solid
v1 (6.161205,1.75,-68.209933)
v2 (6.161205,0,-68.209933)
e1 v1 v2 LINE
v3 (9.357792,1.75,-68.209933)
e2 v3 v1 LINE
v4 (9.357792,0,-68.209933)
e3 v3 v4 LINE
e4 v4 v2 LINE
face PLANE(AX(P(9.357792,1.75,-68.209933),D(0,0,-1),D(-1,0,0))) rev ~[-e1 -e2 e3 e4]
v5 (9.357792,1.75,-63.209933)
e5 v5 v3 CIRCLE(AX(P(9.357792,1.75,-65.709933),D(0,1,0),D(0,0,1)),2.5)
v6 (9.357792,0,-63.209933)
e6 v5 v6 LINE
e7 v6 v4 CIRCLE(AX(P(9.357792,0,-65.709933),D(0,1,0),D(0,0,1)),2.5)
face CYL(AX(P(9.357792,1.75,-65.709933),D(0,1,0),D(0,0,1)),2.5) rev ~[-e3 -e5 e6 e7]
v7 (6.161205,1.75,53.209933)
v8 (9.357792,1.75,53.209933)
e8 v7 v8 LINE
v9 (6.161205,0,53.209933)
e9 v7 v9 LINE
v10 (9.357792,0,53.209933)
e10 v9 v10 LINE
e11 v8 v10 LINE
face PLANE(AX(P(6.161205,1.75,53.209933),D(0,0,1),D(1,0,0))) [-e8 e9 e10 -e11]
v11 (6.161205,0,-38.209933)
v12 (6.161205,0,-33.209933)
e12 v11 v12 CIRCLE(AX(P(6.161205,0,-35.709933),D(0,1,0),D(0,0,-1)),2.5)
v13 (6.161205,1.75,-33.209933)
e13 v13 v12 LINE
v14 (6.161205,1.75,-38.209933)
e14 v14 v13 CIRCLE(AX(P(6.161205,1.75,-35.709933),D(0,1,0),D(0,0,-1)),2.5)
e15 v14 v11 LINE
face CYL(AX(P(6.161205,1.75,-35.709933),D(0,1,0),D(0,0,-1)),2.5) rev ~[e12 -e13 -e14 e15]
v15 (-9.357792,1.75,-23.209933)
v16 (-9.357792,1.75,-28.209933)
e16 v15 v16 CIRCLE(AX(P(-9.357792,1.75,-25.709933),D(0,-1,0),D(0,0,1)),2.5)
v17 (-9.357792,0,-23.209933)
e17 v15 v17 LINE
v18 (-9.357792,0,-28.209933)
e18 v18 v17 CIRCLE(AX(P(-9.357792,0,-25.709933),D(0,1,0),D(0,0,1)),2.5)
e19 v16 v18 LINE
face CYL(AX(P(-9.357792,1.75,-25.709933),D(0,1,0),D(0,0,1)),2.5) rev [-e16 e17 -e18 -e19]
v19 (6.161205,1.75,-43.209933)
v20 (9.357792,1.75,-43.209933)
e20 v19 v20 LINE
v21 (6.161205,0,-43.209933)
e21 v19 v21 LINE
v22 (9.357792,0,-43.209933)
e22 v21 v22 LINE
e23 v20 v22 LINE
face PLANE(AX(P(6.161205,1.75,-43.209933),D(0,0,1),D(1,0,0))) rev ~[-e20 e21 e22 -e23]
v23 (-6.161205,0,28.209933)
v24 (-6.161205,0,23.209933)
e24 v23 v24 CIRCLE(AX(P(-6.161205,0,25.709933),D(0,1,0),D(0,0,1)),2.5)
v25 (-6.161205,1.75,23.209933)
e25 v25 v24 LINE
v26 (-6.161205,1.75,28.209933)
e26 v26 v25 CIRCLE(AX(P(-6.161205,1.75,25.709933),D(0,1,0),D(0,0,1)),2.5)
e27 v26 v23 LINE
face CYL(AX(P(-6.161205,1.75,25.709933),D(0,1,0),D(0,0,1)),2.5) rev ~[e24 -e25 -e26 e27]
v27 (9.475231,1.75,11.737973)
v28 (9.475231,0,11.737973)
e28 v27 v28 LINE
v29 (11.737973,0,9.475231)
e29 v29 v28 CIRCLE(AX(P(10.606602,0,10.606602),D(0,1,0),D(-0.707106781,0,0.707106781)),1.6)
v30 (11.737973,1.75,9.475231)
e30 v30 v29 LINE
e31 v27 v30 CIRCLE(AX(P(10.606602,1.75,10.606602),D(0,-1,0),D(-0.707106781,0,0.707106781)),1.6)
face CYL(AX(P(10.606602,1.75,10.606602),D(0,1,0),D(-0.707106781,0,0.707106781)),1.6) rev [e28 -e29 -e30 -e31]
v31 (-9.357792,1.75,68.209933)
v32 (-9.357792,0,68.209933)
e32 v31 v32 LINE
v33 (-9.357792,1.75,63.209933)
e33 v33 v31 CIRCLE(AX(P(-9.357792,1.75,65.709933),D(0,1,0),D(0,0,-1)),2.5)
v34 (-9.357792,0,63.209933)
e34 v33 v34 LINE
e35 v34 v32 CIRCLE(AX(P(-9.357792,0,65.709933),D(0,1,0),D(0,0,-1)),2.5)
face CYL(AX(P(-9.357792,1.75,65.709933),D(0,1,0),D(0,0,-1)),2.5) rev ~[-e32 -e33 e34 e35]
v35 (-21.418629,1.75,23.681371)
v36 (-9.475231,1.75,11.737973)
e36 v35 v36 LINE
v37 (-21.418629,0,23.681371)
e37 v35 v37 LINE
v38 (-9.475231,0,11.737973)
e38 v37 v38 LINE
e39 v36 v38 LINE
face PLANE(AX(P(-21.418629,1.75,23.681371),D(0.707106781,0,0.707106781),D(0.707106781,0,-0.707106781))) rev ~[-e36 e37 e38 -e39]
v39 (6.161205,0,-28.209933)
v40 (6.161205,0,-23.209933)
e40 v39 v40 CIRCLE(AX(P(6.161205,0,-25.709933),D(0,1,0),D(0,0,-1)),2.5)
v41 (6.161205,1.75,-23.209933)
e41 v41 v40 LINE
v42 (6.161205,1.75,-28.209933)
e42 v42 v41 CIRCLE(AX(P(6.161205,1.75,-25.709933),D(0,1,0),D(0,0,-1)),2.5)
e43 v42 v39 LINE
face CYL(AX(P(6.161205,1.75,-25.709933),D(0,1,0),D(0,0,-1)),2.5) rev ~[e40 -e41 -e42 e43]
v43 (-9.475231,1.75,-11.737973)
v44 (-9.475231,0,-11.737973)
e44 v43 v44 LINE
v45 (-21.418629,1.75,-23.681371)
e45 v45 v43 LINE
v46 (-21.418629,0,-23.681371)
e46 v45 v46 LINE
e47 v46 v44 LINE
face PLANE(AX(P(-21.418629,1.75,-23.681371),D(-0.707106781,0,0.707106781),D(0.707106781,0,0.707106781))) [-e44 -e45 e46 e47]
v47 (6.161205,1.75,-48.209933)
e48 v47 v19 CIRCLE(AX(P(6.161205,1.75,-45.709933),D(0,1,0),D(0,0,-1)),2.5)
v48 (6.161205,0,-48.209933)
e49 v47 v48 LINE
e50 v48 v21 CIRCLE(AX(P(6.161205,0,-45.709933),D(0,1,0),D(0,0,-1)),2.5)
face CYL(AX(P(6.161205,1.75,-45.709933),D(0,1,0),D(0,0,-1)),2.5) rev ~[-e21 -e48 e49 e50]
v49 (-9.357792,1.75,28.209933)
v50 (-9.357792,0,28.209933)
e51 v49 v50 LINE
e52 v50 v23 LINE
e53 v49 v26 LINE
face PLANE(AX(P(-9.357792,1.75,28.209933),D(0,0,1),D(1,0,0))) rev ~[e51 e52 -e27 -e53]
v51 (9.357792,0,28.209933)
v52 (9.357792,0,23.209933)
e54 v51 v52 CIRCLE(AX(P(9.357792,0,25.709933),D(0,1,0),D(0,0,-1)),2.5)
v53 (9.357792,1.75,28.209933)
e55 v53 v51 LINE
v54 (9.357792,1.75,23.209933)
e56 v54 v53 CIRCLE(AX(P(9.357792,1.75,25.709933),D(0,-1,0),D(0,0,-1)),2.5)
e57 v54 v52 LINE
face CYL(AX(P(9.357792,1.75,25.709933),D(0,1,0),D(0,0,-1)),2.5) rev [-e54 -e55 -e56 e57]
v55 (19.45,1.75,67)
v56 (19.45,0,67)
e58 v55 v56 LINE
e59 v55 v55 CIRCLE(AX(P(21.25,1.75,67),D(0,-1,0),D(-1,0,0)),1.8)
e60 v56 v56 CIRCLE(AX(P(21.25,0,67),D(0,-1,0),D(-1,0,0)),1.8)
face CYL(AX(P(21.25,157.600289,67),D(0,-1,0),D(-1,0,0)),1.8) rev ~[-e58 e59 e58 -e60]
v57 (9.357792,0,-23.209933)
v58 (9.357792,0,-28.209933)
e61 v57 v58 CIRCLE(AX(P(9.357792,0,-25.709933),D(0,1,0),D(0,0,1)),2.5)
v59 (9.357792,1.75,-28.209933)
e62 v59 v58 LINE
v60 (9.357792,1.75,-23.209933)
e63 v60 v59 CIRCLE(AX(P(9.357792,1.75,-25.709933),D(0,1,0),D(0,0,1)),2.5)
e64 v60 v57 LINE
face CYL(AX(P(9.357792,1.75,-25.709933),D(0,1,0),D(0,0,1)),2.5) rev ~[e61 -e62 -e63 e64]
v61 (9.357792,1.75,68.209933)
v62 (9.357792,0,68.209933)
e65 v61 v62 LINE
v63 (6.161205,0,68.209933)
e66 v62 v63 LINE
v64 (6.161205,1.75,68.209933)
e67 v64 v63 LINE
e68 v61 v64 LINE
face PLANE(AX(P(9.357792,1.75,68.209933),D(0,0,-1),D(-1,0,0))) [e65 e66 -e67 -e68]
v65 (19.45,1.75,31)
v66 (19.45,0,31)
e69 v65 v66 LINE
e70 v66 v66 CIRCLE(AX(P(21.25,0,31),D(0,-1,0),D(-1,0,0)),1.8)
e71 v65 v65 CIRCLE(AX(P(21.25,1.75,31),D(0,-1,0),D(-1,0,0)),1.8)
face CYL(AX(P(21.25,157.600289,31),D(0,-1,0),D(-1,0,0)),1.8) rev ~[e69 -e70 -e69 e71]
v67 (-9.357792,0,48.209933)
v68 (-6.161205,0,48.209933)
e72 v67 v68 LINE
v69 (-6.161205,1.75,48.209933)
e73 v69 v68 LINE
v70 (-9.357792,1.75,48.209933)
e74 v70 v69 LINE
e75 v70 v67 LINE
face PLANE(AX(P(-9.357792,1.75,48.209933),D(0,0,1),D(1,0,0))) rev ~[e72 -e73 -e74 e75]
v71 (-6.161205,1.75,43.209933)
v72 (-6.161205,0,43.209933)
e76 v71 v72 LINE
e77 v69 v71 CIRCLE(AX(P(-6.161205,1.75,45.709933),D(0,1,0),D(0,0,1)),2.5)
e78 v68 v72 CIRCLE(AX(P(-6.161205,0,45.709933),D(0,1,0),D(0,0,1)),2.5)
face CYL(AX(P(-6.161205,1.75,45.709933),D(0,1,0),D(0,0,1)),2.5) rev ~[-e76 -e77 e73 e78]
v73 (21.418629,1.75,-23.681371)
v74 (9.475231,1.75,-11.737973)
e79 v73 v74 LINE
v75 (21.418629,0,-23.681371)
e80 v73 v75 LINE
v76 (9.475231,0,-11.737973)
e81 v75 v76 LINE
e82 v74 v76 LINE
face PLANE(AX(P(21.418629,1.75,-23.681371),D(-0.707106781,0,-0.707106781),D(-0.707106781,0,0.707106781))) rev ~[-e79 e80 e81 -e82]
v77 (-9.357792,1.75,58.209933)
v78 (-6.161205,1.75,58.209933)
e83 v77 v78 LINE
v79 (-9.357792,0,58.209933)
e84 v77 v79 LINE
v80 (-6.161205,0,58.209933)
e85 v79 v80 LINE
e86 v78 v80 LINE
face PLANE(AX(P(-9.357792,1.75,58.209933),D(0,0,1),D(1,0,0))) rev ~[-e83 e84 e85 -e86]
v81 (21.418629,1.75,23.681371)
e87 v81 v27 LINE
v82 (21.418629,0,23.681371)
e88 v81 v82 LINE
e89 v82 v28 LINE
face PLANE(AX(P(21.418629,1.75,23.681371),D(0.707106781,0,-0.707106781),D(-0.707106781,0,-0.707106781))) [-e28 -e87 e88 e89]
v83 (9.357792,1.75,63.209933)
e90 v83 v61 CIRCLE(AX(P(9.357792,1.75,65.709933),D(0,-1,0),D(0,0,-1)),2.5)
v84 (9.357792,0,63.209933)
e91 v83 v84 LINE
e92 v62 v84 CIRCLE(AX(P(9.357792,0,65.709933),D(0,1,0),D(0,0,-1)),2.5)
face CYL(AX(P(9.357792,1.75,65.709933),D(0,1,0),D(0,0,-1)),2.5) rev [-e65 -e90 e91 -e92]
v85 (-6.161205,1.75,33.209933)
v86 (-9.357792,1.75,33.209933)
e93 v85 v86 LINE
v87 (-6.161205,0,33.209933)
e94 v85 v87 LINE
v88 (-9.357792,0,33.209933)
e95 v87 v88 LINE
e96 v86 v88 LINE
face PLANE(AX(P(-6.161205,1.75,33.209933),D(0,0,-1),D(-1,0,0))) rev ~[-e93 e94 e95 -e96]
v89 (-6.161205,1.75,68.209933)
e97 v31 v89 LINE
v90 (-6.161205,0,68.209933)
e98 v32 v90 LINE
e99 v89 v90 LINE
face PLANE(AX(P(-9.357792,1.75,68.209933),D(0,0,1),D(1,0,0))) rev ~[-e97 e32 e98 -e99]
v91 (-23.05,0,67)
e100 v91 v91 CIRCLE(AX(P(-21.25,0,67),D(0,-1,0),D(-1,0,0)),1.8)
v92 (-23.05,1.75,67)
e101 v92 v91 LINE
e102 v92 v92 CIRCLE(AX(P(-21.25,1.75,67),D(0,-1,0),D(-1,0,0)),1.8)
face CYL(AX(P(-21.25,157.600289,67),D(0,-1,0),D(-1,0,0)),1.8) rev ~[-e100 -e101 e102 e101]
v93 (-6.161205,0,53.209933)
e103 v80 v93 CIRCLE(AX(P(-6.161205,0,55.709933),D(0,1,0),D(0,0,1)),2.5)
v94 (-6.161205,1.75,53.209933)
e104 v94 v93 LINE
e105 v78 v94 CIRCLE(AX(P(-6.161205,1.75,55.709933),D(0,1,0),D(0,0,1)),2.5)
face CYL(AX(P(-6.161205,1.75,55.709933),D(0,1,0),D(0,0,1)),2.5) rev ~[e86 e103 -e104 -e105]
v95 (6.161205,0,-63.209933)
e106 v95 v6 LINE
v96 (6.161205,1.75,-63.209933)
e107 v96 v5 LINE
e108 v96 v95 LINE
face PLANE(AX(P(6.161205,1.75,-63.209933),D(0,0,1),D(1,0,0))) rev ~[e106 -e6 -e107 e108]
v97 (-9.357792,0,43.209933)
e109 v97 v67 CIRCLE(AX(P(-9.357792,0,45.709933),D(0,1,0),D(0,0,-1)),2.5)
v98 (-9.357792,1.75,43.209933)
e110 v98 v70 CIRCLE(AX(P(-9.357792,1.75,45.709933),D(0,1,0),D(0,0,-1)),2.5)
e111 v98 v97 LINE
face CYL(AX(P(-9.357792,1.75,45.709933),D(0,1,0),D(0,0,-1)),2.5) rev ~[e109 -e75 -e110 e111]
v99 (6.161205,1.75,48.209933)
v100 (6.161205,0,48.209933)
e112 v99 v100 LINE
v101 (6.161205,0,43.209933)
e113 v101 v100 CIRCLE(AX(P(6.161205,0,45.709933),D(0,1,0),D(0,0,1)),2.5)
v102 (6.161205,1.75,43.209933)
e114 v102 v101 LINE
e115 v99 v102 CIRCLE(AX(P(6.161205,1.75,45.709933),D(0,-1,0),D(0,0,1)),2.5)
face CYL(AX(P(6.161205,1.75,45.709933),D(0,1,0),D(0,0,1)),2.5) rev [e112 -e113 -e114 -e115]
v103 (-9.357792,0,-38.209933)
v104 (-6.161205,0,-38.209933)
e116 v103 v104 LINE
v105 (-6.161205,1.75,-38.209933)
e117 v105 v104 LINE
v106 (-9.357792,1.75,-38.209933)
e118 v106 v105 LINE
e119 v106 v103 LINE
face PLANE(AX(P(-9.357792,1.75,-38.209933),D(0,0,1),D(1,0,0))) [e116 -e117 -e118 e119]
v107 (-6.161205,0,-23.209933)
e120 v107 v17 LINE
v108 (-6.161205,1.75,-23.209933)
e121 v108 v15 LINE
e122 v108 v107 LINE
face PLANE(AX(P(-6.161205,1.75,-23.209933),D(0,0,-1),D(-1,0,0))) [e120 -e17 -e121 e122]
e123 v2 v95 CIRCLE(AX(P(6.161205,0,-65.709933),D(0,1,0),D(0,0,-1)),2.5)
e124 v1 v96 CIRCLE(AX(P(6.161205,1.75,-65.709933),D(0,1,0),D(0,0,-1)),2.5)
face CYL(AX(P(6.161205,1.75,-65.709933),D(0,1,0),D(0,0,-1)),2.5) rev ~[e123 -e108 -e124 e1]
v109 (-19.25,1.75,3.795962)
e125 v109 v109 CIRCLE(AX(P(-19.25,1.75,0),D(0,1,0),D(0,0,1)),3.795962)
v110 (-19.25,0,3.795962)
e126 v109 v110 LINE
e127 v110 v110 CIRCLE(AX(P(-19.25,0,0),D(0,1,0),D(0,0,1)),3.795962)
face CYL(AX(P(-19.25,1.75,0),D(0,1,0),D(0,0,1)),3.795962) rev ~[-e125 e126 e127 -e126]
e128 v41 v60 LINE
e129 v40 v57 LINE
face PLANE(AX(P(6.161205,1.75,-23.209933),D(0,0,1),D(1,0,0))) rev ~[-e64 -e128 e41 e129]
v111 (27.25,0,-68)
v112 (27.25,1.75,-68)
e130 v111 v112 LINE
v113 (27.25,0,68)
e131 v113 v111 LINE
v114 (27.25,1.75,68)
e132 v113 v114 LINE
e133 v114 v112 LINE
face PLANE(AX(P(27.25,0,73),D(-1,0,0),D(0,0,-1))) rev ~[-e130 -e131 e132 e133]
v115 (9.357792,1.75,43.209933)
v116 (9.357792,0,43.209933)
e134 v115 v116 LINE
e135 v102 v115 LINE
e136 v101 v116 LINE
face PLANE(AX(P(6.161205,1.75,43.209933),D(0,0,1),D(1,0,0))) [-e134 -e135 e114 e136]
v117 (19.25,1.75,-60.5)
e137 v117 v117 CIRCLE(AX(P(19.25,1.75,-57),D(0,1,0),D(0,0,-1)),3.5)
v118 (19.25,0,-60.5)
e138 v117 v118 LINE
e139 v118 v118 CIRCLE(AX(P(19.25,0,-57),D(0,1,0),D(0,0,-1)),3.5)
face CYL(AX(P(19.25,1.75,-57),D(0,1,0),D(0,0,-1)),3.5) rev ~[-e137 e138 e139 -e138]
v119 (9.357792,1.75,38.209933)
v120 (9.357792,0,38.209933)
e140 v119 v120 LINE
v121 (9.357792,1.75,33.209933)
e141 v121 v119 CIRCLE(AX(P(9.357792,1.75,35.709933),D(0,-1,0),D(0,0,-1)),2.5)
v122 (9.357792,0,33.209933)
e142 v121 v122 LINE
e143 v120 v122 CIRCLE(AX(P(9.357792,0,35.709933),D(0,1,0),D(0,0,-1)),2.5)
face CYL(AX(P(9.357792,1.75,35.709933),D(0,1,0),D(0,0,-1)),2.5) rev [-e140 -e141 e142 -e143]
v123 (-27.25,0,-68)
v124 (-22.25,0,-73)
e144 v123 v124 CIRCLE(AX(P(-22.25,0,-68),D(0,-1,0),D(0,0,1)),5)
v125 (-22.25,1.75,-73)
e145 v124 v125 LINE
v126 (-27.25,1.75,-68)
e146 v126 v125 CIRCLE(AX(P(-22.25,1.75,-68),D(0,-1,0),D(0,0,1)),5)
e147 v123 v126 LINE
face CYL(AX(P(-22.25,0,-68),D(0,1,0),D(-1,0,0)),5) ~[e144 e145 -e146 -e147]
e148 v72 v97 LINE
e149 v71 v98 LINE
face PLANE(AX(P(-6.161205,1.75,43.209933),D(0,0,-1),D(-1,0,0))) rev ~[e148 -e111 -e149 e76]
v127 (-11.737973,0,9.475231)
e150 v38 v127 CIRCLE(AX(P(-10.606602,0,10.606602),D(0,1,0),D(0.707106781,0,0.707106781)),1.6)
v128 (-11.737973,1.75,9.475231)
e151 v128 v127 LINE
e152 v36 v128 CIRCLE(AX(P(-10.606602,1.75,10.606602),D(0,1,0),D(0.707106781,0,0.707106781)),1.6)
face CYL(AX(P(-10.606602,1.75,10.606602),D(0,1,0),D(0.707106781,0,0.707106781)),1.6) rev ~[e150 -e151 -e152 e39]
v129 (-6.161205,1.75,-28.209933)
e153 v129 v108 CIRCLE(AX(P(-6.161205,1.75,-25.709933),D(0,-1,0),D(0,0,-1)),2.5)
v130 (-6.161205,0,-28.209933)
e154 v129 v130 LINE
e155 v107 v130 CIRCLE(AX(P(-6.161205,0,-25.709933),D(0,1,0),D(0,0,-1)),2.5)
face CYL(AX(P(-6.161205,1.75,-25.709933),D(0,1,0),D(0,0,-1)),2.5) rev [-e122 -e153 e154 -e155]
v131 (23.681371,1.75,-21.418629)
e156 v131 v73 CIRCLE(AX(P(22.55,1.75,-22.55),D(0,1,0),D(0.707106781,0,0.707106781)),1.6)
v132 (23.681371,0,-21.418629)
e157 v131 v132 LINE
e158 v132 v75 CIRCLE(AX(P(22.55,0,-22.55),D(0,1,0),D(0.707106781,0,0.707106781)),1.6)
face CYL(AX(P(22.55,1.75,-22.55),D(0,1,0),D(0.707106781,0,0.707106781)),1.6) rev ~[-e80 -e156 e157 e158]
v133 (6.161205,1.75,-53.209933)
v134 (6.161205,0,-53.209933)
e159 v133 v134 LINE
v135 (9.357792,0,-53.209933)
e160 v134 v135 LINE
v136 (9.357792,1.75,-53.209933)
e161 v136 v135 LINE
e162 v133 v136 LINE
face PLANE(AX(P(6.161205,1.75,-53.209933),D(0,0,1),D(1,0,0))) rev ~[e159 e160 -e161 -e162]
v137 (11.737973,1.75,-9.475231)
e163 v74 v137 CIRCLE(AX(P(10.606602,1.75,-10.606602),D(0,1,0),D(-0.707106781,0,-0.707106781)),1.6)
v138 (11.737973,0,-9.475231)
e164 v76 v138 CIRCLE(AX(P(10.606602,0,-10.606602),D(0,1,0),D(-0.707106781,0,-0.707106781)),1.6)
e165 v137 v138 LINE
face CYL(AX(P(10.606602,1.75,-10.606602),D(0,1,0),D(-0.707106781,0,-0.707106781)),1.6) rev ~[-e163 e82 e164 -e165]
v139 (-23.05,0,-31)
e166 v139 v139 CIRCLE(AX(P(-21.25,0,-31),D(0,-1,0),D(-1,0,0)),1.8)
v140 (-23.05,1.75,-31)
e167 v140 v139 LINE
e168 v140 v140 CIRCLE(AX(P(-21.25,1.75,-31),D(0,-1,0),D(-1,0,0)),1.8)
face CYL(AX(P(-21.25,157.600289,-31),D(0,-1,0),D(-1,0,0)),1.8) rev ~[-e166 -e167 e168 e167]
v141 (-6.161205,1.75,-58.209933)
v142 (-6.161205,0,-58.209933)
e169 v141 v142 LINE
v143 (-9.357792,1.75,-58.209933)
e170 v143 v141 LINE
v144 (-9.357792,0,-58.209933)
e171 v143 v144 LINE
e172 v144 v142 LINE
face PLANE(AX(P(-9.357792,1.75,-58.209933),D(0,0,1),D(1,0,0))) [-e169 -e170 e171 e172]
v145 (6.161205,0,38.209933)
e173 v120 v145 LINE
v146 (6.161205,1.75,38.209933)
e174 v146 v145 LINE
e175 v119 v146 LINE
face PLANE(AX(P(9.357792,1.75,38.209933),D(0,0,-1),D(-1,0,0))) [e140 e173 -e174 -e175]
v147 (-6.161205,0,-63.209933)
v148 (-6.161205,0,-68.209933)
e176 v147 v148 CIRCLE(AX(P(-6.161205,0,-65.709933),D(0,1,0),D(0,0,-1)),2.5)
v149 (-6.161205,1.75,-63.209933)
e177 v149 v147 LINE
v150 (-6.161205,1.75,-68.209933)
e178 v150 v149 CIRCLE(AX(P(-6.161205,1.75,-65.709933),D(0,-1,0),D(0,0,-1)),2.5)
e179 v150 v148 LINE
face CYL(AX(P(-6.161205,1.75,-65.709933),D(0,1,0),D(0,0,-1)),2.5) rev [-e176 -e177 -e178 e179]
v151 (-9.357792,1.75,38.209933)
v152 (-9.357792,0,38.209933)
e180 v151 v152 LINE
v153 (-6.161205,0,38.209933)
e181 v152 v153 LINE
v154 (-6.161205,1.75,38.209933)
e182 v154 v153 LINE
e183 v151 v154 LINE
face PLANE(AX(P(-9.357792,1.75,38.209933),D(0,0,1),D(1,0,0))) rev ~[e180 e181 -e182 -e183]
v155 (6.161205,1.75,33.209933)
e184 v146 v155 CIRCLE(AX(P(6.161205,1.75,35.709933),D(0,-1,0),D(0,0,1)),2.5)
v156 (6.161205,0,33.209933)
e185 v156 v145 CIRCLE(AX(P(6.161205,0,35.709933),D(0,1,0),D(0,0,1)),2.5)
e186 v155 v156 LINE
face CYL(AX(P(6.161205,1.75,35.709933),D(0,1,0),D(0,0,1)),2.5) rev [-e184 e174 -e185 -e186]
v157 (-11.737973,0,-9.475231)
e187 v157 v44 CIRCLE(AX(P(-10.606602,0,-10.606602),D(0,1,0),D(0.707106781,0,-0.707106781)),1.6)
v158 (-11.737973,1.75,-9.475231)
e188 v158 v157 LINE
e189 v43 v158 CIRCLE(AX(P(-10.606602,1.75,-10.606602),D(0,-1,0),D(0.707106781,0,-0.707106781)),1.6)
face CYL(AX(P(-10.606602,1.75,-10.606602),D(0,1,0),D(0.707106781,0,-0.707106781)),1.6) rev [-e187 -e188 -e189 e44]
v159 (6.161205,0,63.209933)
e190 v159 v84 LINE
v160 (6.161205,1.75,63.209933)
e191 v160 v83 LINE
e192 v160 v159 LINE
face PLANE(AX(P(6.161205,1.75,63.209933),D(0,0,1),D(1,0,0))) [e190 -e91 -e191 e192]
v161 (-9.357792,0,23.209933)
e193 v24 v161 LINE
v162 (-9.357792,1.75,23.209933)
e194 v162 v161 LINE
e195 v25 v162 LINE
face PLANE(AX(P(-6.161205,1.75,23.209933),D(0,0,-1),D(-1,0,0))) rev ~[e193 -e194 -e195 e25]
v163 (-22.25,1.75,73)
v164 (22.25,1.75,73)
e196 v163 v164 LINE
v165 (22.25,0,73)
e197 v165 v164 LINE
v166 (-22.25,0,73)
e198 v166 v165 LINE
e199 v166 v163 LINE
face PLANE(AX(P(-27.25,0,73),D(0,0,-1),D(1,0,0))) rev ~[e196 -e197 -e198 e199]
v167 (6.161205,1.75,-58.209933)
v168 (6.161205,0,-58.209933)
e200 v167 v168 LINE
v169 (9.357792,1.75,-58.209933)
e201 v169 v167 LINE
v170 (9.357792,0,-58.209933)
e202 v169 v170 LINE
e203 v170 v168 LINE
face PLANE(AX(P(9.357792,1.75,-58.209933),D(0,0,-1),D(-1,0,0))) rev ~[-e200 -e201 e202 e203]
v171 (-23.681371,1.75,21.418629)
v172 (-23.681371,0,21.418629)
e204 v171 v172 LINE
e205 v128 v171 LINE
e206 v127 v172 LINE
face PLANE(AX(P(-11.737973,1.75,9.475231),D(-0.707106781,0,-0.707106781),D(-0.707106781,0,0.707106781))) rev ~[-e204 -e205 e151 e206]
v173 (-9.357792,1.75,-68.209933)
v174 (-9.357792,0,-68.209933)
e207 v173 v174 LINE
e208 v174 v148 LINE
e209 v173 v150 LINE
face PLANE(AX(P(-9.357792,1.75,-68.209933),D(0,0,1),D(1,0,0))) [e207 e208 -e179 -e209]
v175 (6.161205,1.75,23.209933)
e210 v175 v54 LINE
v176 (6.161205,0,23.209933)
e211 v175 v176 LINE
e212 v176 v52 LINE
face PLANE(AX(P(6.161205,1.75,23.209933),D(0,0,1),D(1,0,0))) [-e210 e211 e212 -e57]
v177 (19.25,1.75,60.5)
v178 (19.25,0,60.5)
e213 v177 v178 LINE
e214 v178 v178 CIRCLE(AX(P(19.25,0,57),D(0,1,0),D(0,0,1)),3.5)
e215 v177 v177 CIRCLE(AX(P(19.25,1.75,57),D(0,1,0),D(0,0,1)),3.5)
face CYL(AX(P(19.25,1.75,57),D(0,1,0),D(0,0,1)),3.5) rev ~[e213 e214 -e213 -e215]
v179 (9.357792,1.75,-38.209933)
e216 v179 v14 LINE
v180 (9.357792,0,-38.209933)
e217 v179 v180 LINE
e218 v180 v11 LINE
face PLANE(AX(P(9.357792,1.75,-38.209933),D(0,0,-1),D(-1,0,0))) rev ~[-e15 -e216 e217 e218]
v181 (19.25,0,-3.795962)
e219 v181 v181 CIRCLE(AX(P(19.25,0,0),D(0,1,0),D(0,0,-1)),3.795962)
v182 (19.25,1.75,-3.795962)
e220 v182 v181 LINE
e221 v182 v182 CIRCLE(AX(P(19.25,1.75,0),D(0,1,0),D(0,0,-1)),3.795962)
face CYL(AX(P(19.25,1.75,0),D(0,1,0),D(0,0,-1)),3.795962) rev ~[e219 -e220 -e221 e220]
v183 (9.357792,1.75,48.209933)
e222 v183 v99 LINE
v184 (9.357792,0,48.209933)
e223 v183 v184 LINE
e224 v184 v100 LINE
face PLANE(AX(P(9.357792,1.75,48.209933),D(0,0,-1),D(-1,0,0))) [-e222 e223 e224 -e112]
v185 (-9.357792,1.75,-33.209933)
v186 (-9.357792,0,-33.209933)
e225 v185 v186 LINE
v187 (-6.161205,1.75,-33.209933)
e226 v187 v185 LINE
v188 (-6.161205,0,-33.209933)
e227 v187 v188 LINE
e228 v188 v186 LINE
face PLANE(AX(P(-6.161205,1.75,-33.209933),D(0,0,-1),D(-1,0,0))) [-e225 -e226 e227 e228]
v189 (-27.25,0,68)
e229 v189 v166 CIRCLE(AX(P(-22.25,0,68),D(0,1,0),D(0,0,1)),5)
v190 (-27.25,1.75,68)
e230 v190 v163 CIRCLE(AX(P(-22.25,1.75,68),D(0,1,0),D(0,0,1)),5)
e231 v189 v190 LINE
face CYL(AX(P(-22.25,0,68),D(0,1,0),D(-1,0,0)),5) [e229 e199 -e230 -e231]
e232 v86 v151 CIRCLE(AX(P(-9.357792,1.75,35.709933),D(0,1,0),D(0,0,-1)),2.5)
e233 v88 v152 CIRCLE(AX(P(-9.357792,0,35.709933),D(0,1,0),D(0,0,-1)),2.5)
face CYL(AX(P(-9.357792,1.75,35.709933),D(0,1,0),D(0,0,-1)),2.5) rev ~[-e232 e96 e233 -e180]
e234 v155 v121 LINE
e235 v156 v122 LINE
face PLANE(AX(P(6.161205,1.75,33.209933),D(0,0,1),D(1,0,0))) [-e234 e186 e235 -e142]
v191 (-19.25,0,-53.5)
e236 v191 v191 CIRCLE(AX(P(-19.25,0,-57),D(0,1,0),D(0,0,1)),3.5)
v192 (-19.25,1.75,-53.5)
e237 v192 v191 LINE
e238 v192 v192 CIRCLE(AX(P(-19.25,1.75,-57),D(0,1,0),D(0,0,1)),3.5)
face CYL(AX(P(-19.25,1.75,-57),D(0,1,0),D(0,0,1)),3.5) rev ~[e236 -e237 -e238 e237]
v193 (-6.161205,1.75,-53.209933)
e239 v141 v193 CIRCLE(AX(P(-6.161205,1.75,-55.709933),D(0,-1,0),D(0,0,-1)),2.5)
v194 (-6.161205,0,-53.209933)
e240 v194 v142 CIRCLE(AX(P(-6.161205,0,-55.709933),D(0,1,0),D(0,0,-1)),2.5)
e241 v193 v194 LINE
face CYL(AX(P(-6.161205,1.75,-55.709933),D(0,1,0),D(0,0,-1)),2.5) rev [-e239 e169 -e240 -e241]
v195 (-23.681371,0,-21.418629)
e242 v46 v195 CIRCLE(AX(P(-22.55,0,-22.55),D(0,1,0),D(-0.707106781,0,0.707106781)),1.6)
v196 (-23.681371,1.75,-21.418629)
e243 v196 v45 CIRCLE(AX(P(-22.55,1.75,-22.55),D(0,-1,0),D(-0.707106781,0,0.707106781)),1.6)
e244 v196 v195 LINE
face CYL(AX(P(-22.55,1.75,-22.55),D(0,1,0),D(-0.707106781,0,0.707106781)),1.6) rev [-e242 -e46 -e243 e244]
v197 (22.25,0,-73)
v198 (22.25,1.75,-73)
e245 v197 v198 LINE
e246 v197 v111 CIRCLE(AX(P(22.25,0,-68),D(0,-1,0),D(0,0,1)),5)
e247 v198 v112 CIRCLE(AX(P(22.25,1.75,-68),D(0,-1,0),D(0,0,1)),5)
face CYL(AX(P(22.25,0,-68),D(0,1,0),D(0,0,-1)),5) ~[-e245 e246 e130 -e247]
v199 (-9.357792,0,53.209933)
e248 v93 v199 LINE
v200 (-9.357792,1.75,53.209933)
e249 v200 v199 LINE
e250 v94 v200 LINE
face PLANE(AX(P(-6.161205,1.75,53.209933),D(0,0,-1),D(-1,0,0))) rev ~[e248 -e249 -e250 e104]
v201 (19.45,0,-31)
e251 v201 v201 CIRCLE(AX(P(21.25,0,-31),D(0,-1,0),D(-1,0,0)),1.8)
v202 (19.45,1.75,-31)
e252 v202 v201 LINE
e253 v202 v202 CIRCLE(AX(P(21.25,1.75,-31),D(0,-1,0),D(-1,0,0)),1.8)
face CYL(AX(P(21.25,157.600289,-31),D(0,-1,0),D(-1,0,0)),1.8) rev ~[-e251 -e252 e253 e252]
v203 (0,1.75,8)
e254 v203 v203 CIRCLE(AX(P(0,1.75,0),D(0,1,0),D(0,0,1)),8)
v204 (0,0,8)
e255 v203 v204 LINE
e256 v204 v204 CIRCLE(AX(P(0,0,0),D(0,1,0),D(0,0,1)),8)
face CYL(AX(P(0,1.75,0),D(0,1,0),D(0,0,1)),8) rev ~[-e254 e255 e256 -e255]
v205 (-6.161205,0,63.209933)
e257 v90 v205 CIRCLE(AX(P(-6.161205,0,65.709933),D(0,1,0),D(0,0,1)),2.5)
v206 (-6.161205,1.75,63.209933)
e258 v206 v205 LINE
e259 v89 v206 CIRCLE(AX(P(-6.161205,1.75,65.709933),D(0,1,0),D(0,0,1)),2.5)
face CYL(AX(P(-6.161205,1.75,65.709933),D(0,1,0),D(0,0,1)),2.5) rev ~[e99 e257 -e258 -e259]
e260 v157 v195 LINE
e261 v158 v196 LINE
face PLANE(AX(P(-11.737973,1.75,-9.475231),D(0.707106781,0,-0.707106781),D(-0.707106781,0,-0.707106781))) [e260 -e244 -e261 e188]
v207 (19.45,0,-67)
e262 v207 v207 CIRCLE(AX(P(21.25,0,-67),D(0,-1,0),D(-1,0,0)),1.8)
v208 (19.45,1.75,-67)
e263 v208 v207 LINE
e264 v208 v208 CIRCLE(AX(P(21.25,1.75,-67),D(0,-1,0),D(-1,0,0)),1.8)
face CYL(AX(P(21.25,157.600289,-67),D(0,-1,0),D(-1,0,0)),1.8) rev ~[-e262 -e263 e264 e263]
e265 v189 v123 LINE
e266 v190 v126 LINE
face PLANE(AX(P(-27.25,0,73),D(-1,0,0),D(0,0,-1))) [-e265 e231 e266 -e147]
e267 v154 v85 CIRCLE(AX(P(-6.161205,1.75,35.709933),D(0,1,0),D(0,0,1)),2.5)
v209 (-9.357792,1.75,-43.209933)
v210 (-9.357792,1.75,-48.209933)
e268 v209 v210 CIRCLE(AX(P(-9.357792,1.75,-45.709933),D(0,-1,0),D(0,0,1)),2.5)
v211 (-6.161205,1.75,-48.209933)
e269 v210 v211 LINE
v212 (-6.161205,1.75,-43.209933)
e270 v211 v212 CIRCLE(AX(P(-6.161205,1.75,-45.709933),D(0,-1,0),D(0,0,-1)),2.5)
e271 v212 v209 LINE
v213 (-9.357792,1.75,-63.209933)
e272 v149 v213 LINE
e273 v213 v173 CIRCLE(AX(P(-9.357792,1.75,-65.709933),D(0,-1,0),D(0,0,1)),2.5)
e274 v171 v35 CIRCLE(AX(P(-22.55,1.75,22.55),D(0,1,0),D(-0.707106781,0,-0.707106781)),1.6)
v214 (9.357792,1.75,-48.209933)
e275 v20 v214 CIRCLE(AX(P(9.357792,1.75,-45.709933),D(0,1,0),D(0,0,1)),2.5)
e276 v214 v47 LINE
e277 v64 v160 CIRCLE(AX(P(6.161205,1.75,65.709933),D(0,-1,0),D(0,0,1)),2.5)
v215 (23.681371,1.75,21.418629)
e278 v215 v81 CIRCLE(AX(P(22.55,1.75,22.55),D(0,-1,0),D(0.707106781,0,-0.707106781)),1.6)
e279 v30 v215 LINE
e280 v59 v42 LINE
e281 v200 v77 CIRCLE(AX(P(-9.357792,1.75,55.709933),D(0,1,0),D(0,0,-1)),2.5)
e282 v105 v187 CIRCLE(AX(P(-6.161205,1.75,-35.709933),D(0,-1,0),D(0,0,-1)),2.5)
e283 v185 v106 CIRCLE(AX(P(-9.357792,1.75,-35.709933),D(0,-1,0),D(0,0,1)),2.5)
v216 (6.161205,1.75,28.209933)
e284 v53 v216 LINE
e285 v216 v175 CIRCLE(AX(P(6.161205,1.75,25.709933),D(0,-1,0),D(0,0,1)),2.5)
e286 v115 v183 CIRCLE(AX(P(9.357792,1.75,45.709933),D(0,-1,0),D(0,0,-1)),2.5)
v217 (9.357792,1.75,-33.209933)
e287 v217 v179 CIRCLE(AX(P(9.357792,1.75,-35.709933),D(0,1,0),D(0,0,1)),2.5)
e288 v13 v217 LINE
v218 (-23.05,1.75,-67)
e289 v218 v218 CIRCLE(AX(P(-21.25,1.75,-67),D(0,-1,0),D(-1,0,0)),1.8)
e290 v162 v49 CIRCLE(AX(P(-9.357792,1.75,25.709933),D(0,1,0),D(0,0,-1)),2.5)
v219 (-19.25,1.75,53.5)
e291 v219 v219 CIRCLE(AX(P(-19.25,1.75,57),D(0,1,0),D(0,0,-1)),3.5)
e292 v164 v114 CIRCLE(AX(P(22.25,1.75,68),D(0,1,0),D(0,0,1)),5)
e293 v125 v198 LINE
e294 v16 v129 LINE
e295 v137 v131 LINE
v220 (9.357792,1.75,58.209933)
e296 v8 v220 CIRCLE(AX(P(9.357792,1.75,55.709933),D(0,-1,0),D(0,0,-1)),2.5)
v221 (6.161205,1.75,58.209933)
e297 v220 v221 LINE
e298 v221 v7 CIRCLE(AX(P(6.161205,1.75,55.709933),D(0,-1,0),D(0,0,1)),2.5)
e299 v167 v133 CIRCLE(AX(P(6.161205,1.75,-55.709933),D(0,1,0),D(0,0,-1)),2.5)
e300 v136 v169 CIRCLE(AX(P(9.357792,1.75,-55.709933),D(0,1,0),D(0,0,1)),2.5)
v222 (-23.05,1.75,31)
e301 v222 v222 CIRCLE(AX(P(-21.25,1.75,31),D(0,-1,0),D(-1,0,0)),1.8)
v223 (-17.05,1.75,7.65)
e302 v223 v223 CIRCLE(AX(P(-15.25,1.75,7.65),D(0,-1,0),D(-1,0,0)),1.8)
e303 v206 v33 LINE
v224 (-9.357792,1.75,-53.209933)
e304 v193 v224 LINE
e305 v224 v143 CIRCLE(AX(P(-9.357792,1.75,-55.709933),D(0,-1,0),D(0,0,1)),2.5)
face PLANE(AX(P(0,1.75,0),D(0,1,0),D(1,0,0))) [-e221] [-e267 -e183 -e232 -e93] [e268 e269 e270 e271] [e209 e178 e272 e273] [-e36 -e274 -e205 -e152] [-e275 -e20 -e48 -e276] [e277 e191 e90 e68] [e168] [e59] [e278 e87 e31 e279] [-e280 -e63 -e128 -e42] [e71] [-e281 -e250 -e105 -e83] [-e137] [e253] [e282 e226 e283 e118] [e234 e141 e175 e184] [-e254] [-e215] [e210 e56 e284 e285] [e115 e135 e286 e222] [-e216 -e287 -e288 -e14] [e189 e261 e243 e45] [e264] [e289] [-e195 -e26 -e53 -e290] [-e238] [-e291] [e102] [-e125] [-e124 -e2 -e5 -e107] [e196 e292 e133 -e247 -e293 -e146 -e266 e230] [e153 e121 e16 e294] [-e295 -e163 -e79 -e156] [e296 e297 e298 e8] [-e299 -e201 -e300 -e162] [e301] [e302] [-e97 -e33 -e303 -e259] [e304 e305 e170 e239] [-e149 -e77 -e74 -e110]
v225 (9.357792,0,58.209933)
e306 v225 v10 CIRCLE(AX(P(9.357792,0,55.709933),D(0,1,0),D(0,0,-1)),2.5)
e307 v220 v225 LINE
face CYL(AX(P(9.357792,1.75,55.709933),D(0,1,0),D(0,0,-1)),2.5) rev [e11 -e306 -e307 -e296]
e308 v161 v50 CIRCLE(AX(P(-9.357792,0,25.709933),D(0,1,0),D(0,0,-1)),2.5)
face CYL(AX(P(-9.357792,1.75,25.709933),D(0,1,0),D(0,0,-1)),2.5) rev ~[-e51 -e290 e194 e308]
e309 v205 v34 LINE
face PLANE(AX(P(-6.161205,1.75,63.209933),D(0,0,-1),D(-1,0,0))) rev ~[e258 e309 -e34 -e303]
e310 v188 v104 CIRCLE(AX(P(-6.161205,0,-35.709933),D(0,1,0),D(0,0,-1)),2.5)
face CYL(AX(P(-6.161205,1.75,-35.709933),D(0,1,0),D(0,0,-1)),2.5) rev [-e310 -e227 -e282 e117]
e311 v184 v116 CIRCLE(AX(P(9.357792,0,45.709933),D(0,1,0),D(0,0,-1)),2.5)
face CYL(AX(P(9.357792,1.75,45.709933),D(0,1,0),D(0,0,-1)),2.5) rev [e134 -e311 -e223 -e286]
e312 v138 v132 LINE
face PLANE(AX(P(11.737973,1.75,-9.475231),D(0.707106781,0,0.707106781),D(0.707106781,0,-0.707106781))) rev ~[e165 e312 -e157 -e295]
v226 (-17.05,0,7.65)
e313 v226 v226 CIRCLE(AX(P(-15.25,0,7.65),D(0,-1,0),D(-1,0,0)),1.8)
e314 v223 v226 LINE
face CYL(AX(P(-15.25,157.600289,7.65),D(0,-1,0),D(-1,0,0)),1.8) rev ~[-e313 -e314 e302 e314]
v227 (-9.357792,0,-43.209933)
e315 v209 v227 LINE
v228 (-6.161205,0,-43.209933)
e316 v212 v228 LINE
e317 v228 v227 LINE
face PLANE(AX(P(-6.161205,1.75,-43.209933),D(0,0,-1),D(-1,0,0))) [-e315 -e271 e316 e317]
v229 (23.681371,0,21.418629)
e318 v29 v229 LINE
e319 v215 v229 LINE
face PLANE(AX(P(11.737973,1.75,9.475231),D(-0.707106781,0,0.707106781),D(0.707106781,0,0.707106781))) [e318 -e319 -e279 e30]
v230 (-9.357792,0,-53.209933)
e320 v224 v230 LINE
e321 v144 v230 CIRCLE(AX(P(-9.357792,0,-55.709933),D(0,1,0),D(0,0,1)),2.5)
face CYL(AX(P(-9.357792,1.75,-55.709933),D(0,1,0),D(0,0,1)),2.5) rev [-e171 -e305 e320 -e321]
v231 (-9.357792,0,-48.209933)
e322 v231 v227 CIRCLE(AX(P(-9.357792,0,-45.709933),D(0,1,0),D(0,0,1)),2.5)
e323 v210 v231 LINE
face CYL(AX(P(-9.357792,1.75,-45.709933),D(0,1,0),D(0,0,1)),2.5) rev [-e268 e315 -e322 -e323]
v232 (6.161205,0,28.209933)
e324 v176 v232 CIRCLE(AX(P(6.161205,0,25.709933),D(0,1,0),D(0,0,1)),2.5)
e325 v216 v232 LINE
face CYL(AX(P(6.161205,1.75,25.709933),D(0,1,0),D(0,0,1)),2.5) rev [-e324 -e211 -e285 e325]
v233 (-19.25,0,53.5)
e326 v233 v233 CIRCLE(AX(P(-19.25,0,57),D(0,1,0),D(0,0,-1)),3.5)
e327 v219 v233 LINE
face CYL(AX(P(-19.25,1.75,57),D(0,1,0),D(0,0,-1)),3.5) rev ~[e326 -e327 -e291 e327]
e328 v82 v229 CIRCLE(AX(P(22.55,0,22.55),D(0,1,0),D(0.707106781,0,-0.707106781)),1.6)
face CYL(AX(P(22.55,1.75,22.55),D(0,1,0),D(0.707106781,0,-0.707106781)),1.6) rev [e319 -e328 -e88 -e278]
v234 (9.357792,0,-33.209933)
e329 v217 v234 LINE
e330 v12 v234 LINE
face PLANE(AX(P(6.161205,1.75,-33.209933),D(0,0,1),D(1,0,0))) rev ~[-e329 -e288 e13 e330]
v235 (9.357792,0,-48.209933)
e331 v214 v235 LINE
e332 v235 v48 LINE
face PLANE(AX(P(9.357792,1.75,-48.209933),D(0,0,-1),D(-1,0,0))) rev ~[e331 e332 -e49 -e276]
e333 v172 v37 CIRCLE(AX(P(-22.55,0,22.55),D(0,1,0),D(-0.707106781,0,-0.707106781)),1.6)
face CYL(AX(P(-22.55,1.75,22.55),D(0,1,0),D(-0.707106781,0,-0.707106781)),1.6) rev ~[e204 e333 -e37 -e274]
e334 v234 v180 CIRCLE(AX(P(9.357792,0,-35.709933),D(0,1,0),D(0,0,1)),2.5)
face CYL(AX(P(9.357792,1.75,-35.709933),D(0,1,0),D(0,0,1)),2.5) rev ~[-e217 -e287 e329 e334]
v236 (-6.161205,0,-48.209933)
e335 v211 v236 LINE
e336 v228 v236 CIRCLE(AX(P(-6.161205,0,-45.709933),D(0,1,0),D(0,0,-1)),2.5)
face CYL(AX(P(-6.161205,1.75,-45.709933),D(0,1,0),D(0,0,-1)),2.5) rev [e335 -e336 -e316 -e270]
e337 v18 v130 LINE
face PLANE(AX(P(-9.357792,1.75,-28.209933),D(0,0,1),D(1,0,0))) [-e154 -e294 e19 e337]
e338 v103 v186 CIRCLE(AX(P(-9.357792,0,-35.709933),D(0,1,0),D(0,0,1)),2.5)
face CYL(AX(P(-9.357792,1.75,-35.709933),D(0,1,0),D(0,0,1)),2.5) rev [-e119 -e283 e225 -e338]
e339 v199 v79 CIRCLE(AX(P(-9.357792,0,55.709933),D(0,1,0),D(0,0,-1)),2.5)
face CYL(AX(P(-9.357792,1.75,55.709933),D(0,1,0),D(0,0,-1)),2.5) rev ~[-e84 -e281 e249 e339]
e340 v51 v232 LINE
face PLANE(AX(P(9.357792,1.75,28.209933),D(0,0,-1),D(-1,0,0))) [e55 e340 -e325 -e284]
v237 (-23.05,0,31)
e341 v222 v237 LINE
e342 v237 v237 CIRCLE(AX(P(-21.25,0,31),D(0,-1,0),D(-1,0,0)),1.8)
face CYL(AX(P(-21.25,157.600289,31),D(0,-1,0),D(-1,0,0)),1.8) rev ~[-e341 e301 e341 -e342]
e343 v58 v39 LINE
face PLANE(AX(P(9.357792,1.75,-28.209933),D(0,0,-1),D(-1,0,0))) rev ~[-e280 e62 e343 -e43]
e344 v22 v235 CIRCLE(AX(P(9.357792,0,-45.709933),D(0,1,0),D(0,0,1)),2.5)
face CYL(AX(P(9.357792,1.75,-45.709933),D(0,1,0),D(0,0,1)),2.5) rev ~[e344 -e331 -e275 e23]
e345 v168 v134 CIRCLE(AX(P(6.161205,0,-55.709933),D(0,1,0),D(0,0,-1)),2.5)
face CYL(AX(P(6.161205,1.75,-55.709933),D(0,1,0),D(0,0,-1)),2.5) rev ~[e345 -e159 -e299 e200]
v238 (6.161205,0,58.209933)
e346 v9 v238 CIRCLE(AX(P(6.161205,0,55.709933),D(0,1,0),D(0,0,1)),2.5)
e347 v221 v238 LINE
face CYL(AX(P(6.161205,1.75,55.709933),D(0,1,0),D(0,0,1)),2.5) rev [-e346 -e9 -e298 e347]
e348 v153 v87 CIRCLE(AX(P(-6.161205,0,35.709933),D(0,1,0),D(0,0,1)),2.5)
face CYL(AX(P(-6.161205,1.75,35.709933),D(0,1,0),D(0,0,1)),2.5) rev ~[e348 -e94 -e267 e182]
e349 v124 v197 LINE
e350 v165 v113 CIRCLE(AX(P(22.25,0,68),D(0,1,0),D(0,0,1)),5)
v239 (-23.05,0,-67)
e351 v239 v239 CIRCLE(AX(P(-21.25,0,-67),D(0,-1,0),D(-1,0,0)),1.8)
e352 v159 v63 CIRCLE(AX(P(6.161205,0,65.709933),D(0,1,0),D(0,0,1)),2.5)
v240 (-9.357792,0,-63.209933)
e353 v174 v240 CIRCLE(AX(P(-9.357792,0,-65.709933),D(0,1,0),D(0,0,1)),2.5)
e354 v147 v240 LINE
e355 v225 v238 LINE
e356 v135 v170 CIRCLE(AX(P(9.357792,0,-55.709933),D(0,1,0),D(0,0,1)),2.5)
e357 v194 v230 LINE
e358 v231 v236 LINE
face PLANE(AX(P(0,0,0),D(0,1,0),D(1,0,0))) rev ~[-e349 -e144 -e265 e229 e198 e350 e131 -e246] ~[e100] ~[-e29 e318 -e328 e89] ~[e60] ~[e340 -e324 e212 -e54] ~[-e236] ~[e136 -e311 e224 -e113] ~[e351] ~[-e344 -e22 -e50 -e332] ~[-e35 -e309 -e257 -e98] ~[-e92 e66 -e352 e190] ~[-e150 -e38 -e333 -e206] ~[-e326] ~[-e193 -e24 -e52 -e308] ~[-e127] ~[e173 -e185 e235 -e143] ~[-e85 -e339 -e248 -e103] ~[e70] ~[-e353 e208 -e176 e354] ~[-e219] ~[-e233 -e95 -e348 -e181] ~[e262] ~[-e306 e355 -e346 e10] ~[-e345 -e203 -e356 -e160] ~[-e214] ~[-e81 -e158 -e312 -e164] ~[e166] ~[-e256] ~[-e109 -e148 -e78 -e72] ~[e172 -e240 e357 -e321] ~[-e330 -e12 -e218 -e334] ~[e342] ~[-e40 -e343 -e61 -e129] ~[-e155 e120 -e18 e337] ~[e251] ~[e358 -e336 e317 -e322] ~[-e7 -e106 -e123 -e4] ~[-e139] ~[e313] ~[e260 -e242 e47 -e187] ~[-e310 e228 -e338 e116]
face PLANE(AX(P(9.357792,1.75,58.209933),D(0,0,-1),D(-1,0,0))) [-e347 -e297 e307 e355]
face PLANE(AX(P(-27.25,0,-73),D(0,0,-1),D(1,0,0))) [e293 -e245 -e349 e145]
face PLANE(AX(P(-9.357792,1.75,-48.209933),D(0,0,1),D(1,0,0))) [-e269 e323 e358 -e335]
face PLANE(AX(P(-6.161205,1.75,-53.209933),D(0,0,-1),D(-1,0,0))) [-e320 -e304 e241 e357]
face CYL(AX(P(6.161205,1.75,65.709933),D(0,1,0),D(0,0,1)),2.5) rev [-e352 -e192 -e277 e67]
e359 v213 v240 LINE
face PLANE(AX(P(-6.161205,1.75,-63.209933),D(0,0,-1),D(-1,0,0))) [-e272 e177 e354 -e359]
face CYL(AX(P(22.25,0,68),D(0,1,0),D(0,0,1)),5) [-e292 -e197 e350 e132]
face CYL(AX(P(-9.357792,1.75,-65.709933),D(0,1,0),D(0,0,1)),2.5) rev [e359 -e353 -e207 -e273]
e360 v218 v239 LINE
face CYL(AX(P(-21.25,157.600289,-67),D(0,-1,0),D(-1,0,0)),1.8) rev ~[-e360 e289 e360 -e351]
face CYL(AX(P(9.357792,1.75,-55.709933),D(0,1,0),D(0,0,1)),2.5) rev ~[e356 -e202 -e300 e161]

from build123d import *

# Parameters (mm, degrees)
SKETCH1_W            = 54.5
SKETCH1_H            = 146
BOSS_EXTRUDE1_DEPTH  = 1.75
SKETCH2_R            = 3.5
SKETCH2_R_2          = 3.795961701
SKETCH2_R_3          = 8
CUT_EXTRUDE1_DEPTH   = 78.939880677
M3_CLEARANCE_HOLE1_D = 3.6
FILLET1_R            = 5


with BuildPart() as part:
    # Sketch1 → Boss-Extrude1 (new body)
    with BuildSketch(Plane(origin=(0, 0, 0), x_dir=(1, 0, 0), z_dir=(0, 1, 0))):
        Rectangle(SKETCH1_W, SKETCH1_H)
    extrude(amount=BOSS_EXTRUDE1_DEPTH)

    # Sketch2 → Cut-Extrude1 (cut, through all)
    with BuildSketch(Plane(origin=(0, 1.75, 0), x_dir=(1, 0, 0), z_dir=(0, 1, 0))):
        with Locations(Location((-19.25, 57, 0), (0, 0, 270))):
            Circle(SKETCH2_R)
        with Locations(Location((-19.25, 0, 0), (0, 0, 270))):
            Circle(SKETCH2_R_2)
        with Locations(Location((-19.25, -57, 0), (0, 0, 90))):
            Circle(SKETCH2_R)
        with Locations(Location((19.25, -57, 0), (0, 0, 270))):
            Circle(SKETCH2_R)
        with Locations(Location((19.25, 0, 0), (0, 0, 90))):
            Circle(SKETCH2_R_2)
        with Locations(Location((19.25, 57, 0), (0, 0, 90))):
            Circle(SKETCH2_R)
        with Locations(Location((0, 0, 0), (0, 0, 270))):
            Circle(SKETCH2_R_3)
        with BuildLine():
            Line((-11.737972568, 9.475230868), (-23.68137085, 21.41862915))
            ThreePointArc((-23.68137085, 21.41862915), (-23.68137085, 23.68137085), (-21.41862915, 23.68137085))
            Line((-21.41862915, 23.68137085), (-9.475230868, 11.737972568))
            ThreePointArc((-9.475230868, 11.737972568), (-9.475230868, 9.475230868), (-11.737972568, 9.475230868))
        make_face()
        with BuildLine():
            Line((11.737972568, 9.475230868), (23.68137085, 21.41862915))
            ThreePointArc((23.68137085, 21.41862915), (23.68137085, 23.68137085), (21.41862915, 23.68137085))
            Line((21.41862915, 23.68137085), (9.475230868, 11.737972568))
            ThreePointArc((9.475230868, 11.737972568), (9.475230868, 9.475230868), (11.737972568, 9.475230868))
        make_face()
        with BuildLine():
            Line((-11.737972568, -9.475230868), (-23.68137085, -21.41862915))
            ThreePointArc((-23.68137085, -21.41862915), (-23.68137085, -23.68137085), (-21.41862915, -23.68137085))
            Line((-21.41862915, -23.68137085), (-9.475230868, -11.737972568))
            ThreePointArc((-9.475230868, -11.737972568), (-9.475230868, -9.475230868), (-11.737972568, -9.475230868))
        make_face()
        with BuildLine():
            Line((11.737972568, -9.475230868), (23.68137085, -21.41862915))
            ThreePointArc((23.68137085, -21.41862915), (23.68137085, -23.68137085), (21.41862915, -23.68137085))
            Line((21.41862915, -23.68137085), (9.475230868, -11.737972568))
            ThreePointArc((9.475230868, -11.737972568), (9.475230868, -9.475230868), (11.737972568, -9.475230868))
        make_face()
        with BuildLine():
            Line((-9.357792216, 68.20993346), (-6.161205405, 68.20993346))
            ThreePointArc((-6.161205405, 68.20993346), (-3.661205405, 65.70993346), (-6.161205405, 63.20993346))
            Line((-6.161205405, 63.20993346), (-9.357792216, 63.20993346))
            ThreePointArc((-9.357792216, 63.20993346), (-11.857792216, 65.70993346), (-9.357792216, 68.20993346))
        make_face()
        with BuildLine():
            Line((-9.357792216, 58.20993346), (-6.161205405, 58.20993346))
            ThreePointArc((-6.161205405, 58.20993346), (-3.661205405, 55.70993346), (-6.161205405, 53.20993346))
            Line((-6.161205405, 53.20993346), (-9.357792216, 53.20993346))
            ThreePointArc((-9.357792216, 53.20993346), (-11.857792216, 55.70993346), (-9.357792216, 58.20993346))
        make_face()
        with BuildLine():
            Line((9.357792216, 58.20993346), (6.161205405, 58.20993346))
            ThreePointArc((6.161205405, 58.20993346), (3.661205405, 55.70993346), (6.161205405, 53.20993346))
            Line((6.161205405, 53.20993346), (9.357792216, 53.20993346))
            ThreePointArc((9.357792216, 53.20993346), (11.857792216, 55.70993346), (9.357792216, 58.20993346))
        make_face()
        with BuildLine():
            Line((-9.357792216, 48.20993346), (-6.161205405, 48.20993346))
            ThreePointArc((-6.161205405, 48.20993346), (-3.661205405, 45.70993346), (-6.161205405, 43.20993346))
            Line((-6.161205405, 43.20993346), (-9.357792216, 43.20993346))
            ThreePointArc((-9.357792216, 43.20993346), (-11.857792216, 45.70993346), (-9.357792216, 48.20993346))
        make_face()
        with BuildLine():
            Line((9.357792216, 48.20993346), (6.161205405, 48.20993346))
            ThreePointArc((6.161205405, 48.20993346), (3.661205405, 45.70993346), (6.161205405, 43.20993346))
            Line((6.161205405, 43.20993346), (9.357792216, 43.20993346))
            ThreePointArc((9.357792216, 43.20993346), (11.857792216, 45.70993346), (9.357792216, 48.20993346))
        make_face()
        with BuildLine():
            Line((-9.357792216, 38.20993346), (-6.161205405, 38.20993346))
            ThreePointArc((-6.161205405, 38.20993346), (-3.661205405, 35.70993346), (-6.161205405, 33.20993346))
            Line((-6.161205405, 33.20993346), (-9.357792216, 33.20993346))
            ThreePointArc((-9.357792216, 33.20993346), (-11.857792216, 35.70993346), (-9.357792216, 38.20993346))
        make_face()
        with BuildLine():
            Line((9.357792216, 68.20993346), (6.161205405, 68.20993346))
            ThreePointArc((6.161205405, 68.20993346), (3.661205405, 65.70993346), (6.161205405, 63.20993346))
            Line((6.161205405, 63.20993346), (9.357792216, 63.20993346))
            ThreePointArc((9.357792216, 63.20993346), (11.857792216, 65.70993346), (9.357792216, 68.20993346))
        make_face()
        with BuildLine():
            Line((9.357792216, 38.20993346), (6.161205405, 38.20993346))
            ThreePointArc((6.161205405, 38.20993346), (3.661205405, 35.70993346), (6.161205405, 33.20993346))
            Line((6.161205405, 33.20993346), (9.357792216, 33.20993346))
            ThreePointArc((9.357792216, 33.20993346), (11.857792216, 35.70993346), (9.357792216, 38.20993346))
        make_face()
        with BuildLine():
            Line((-9.357792216, 28.20993346), (-6.161205405, 28.20993346))
            ThreePointArc((-6.161205405, 28.20993346), (-3.661205405, 25.70993346), (-6.161205405, 23.20993346))
            Line((-6.161205405, 23.20993346), (-9.357792216, 23.20993346))
            ThreePointArc((-9.357792216, 23.20993346), (-11.857792216, 25.70993346), (-9.357792216, 28.20993346))
        make_face()
        with BuildLine():
            Line((9.357792216, 28.20993346), (6.161205405, 28.20993346))
            ThreePointArc((6.161205405, 28.20993346), (3.661205405, 25.70993346), (6.161205405, 23.20993346))
            Line((6.161205405, 23.20993346), (9.357792216, 23.20993346))
            ThreePointArc((9.357792216, 23.20993346), (11.857792216, 25.70993346), (9.357792216, 28.20993346))
        make_face()
        with BuildLine():
            Line((-9.357792216, -68.20993346), (-6.161205405, -68.20993346))
            ThreePointArc((-6.161205405, -68.20993346), (-3.661205405, -65.70993346), (-6.161205405, -63.20993346))
            Line((-6.161205405, -63.20993346), (-9.357792216, -63.20993346))
            ThreePointArc((-9.357792216, -63.20993346), (-11.857792216, -65.70993346), (-9.357792216, -68.20993346))
        make_face()
        with BuildLine():
            Line((-9.357792216, -58.20993346), (-6.161205405, -58.20993346))
            ThreePointArc((-6.161205405, -58.20993346), (-3.661205405, -55.70993346), (-6.161205405, -53.20993346))
            Line((-6.161205405, -53.20993346), (-9.357792216, -53.20993346))
            ThreePointArc((-9.357792216, -53.20993346), (-11.857792216, -55.70993346), (-9.357792216, -58.20993346))
        make_face()
        with BuildLine():
            Line((9.357792216, -58.20993346), (6.161205405, -58.20993346))
            ThreePointArc((6.161205405, -58.20993346), (3.661205405, -55.70993346), (6.161205405, -53.20993346))
            Line((6.161205405, -53.20993346), (9.357792216, -53.20993346))
            ThreePointArc((9.357792216, -53.20993346), (11.857792216, -55.70993346), (9.357792216, -58.20993346))
        make_face()
        with BuildLine():
            Line((-9.357792216, -48.20993346), (-6.161205405, -48.20993346))
            ThreePointArc((-6.161205405, -48.20993346), (-3.661205405, -45.70993346), (-6.161205405, -43.20993346))
            Line((-6.161205405, -43.20993346), (-9.357792216, -43.20993346))
            ThreePointArc((-9.357792216, -43.20993346), (-11.857792216, -45.70993346), (-9.357792216, -48.20993346))
        make_face()
        with BuildLine():
            Line((9.357792216, -48.20993346), (6.161205405, -48.20993346))
            ThreePointArc((6.161205405, -48.20993346), (3.661205405, -45.70993346), (6.161205405, -43.20993346))
            Line((6.161205405, -43.20993346), (9.357792216, -43.20993346))
            ThreePointArc((9.357792216, -43.20993346), (11.857792216, -45.70993346), (9.357792216, -48.20993346))
        make_face()
        with BuildLine():
            Line((-9.357792216, -38.20993346), (-6.161205405, -38.20993346))
            ThreePointArc((-6.161205405, -38.20993346), (-3.661205405, -35.70993346), (-6.161205405, -33.20993346))
            Line((-6.161205405, -33.20993346), (-9.357792216, -33.20993346))
            ThreePointArc((-9.357792216, -33.20993346), (-11.857792216, -35.70993346), (-9.357792216, -38.20993346))
        make_face()
        with BuildLine():
            Line((9.357792216, -68.20993346), (6.161205405, -68.20993346))
            ThreePointArc((6.161205405, -68.20993346), (3.661205405, -65.70993346), (6.161205405, -63.20993346))
            Line((6.161205405, -63.20993346), (9.357792216, -63.20993346))
            ThreePointArc((9.357792216, -63.20993346), (11.857792216, -65.70993346), (9.357792216, -68.20993346))
        make_face()
        with BuildLine():
            Line((9.357792216, -38.20993346), (6.161205405, -38.20993346))
            ThreePointArc((6.161205405, -38.20993346), (3.661205405, -35.70993346), (6.161205405, -33.20993346))
            Line((6.161205405, -33.20993346), (9.357792216, -33.20993346))
            ThreePointArc((9.357792216, -33.20993346), (11.857792216, -35.70993346), (9.357792216, -38.20993346))
        make_face()
        with BuildLine():
            Line((-9.357792216, -28.20993346), (-6.161205405, -28.20993346))
            ThreePointArc((-6.161205405, -28.20993346), (-3.661205405, -25.70993346), (-6.161205405, -23.20993346))
            Line((-6.161205405, -23.20993346), (-9.357792216, -23.20993346))
            ThreePointArc((-9.357792216, -23.20993346), (-11.857792216, -25.70993346), (-9.357792216, -28.20993346))
        make_face()
        with BuildLine():
            Line((9.357792216, -28.20993346), (6.161205405, -28.20993346))
            ThreePointArc((6.161205405, -28.20993346), (3.661205405, -25.70993346), (6.161205405, -23.20993346))
            Line((6.161205405, -23.20993346), (9.357792216, -23.20993346))
            ThreePointArc((9.357792216, -23.20993346), (11.857792216, -25.70993346), (9.357792216, -28.20993346))
        make_face()
    extrude(amount=-CUT_EXTRUDE1_DEPTH, mode=Mode.SUBTRACT)

    # M3 Clearance Hole1 (through all)
    with Locations(Plane(origin=(0, 1.75, 0), x_dir=(1, 0, 0), z_dir=(0, 1, 0))):
        with Locations((-21.25, 67), (21.25, -67), (-21.25, -67), (-21.25, 31), (21.25, 67), (21.25, 31), (21.25, -31), (-21.25, -31), (-15.25, -7.65)):
            Hole(M3_CLEARANCE_HOLE1_D / 2)

    # Fillet1
    fillet1_edges = [part.edges().sort_by_distance(p)[0] for p in [
        (27.25, 0.875, 73),
        (-27.25, 0.875, 73),
        (-27.25, 0.875, -73),
        (27.25, 0.875, -73),
    ]]
    fillet(fillet1_edges, radius=FILLET1_R)


solid = part.part
